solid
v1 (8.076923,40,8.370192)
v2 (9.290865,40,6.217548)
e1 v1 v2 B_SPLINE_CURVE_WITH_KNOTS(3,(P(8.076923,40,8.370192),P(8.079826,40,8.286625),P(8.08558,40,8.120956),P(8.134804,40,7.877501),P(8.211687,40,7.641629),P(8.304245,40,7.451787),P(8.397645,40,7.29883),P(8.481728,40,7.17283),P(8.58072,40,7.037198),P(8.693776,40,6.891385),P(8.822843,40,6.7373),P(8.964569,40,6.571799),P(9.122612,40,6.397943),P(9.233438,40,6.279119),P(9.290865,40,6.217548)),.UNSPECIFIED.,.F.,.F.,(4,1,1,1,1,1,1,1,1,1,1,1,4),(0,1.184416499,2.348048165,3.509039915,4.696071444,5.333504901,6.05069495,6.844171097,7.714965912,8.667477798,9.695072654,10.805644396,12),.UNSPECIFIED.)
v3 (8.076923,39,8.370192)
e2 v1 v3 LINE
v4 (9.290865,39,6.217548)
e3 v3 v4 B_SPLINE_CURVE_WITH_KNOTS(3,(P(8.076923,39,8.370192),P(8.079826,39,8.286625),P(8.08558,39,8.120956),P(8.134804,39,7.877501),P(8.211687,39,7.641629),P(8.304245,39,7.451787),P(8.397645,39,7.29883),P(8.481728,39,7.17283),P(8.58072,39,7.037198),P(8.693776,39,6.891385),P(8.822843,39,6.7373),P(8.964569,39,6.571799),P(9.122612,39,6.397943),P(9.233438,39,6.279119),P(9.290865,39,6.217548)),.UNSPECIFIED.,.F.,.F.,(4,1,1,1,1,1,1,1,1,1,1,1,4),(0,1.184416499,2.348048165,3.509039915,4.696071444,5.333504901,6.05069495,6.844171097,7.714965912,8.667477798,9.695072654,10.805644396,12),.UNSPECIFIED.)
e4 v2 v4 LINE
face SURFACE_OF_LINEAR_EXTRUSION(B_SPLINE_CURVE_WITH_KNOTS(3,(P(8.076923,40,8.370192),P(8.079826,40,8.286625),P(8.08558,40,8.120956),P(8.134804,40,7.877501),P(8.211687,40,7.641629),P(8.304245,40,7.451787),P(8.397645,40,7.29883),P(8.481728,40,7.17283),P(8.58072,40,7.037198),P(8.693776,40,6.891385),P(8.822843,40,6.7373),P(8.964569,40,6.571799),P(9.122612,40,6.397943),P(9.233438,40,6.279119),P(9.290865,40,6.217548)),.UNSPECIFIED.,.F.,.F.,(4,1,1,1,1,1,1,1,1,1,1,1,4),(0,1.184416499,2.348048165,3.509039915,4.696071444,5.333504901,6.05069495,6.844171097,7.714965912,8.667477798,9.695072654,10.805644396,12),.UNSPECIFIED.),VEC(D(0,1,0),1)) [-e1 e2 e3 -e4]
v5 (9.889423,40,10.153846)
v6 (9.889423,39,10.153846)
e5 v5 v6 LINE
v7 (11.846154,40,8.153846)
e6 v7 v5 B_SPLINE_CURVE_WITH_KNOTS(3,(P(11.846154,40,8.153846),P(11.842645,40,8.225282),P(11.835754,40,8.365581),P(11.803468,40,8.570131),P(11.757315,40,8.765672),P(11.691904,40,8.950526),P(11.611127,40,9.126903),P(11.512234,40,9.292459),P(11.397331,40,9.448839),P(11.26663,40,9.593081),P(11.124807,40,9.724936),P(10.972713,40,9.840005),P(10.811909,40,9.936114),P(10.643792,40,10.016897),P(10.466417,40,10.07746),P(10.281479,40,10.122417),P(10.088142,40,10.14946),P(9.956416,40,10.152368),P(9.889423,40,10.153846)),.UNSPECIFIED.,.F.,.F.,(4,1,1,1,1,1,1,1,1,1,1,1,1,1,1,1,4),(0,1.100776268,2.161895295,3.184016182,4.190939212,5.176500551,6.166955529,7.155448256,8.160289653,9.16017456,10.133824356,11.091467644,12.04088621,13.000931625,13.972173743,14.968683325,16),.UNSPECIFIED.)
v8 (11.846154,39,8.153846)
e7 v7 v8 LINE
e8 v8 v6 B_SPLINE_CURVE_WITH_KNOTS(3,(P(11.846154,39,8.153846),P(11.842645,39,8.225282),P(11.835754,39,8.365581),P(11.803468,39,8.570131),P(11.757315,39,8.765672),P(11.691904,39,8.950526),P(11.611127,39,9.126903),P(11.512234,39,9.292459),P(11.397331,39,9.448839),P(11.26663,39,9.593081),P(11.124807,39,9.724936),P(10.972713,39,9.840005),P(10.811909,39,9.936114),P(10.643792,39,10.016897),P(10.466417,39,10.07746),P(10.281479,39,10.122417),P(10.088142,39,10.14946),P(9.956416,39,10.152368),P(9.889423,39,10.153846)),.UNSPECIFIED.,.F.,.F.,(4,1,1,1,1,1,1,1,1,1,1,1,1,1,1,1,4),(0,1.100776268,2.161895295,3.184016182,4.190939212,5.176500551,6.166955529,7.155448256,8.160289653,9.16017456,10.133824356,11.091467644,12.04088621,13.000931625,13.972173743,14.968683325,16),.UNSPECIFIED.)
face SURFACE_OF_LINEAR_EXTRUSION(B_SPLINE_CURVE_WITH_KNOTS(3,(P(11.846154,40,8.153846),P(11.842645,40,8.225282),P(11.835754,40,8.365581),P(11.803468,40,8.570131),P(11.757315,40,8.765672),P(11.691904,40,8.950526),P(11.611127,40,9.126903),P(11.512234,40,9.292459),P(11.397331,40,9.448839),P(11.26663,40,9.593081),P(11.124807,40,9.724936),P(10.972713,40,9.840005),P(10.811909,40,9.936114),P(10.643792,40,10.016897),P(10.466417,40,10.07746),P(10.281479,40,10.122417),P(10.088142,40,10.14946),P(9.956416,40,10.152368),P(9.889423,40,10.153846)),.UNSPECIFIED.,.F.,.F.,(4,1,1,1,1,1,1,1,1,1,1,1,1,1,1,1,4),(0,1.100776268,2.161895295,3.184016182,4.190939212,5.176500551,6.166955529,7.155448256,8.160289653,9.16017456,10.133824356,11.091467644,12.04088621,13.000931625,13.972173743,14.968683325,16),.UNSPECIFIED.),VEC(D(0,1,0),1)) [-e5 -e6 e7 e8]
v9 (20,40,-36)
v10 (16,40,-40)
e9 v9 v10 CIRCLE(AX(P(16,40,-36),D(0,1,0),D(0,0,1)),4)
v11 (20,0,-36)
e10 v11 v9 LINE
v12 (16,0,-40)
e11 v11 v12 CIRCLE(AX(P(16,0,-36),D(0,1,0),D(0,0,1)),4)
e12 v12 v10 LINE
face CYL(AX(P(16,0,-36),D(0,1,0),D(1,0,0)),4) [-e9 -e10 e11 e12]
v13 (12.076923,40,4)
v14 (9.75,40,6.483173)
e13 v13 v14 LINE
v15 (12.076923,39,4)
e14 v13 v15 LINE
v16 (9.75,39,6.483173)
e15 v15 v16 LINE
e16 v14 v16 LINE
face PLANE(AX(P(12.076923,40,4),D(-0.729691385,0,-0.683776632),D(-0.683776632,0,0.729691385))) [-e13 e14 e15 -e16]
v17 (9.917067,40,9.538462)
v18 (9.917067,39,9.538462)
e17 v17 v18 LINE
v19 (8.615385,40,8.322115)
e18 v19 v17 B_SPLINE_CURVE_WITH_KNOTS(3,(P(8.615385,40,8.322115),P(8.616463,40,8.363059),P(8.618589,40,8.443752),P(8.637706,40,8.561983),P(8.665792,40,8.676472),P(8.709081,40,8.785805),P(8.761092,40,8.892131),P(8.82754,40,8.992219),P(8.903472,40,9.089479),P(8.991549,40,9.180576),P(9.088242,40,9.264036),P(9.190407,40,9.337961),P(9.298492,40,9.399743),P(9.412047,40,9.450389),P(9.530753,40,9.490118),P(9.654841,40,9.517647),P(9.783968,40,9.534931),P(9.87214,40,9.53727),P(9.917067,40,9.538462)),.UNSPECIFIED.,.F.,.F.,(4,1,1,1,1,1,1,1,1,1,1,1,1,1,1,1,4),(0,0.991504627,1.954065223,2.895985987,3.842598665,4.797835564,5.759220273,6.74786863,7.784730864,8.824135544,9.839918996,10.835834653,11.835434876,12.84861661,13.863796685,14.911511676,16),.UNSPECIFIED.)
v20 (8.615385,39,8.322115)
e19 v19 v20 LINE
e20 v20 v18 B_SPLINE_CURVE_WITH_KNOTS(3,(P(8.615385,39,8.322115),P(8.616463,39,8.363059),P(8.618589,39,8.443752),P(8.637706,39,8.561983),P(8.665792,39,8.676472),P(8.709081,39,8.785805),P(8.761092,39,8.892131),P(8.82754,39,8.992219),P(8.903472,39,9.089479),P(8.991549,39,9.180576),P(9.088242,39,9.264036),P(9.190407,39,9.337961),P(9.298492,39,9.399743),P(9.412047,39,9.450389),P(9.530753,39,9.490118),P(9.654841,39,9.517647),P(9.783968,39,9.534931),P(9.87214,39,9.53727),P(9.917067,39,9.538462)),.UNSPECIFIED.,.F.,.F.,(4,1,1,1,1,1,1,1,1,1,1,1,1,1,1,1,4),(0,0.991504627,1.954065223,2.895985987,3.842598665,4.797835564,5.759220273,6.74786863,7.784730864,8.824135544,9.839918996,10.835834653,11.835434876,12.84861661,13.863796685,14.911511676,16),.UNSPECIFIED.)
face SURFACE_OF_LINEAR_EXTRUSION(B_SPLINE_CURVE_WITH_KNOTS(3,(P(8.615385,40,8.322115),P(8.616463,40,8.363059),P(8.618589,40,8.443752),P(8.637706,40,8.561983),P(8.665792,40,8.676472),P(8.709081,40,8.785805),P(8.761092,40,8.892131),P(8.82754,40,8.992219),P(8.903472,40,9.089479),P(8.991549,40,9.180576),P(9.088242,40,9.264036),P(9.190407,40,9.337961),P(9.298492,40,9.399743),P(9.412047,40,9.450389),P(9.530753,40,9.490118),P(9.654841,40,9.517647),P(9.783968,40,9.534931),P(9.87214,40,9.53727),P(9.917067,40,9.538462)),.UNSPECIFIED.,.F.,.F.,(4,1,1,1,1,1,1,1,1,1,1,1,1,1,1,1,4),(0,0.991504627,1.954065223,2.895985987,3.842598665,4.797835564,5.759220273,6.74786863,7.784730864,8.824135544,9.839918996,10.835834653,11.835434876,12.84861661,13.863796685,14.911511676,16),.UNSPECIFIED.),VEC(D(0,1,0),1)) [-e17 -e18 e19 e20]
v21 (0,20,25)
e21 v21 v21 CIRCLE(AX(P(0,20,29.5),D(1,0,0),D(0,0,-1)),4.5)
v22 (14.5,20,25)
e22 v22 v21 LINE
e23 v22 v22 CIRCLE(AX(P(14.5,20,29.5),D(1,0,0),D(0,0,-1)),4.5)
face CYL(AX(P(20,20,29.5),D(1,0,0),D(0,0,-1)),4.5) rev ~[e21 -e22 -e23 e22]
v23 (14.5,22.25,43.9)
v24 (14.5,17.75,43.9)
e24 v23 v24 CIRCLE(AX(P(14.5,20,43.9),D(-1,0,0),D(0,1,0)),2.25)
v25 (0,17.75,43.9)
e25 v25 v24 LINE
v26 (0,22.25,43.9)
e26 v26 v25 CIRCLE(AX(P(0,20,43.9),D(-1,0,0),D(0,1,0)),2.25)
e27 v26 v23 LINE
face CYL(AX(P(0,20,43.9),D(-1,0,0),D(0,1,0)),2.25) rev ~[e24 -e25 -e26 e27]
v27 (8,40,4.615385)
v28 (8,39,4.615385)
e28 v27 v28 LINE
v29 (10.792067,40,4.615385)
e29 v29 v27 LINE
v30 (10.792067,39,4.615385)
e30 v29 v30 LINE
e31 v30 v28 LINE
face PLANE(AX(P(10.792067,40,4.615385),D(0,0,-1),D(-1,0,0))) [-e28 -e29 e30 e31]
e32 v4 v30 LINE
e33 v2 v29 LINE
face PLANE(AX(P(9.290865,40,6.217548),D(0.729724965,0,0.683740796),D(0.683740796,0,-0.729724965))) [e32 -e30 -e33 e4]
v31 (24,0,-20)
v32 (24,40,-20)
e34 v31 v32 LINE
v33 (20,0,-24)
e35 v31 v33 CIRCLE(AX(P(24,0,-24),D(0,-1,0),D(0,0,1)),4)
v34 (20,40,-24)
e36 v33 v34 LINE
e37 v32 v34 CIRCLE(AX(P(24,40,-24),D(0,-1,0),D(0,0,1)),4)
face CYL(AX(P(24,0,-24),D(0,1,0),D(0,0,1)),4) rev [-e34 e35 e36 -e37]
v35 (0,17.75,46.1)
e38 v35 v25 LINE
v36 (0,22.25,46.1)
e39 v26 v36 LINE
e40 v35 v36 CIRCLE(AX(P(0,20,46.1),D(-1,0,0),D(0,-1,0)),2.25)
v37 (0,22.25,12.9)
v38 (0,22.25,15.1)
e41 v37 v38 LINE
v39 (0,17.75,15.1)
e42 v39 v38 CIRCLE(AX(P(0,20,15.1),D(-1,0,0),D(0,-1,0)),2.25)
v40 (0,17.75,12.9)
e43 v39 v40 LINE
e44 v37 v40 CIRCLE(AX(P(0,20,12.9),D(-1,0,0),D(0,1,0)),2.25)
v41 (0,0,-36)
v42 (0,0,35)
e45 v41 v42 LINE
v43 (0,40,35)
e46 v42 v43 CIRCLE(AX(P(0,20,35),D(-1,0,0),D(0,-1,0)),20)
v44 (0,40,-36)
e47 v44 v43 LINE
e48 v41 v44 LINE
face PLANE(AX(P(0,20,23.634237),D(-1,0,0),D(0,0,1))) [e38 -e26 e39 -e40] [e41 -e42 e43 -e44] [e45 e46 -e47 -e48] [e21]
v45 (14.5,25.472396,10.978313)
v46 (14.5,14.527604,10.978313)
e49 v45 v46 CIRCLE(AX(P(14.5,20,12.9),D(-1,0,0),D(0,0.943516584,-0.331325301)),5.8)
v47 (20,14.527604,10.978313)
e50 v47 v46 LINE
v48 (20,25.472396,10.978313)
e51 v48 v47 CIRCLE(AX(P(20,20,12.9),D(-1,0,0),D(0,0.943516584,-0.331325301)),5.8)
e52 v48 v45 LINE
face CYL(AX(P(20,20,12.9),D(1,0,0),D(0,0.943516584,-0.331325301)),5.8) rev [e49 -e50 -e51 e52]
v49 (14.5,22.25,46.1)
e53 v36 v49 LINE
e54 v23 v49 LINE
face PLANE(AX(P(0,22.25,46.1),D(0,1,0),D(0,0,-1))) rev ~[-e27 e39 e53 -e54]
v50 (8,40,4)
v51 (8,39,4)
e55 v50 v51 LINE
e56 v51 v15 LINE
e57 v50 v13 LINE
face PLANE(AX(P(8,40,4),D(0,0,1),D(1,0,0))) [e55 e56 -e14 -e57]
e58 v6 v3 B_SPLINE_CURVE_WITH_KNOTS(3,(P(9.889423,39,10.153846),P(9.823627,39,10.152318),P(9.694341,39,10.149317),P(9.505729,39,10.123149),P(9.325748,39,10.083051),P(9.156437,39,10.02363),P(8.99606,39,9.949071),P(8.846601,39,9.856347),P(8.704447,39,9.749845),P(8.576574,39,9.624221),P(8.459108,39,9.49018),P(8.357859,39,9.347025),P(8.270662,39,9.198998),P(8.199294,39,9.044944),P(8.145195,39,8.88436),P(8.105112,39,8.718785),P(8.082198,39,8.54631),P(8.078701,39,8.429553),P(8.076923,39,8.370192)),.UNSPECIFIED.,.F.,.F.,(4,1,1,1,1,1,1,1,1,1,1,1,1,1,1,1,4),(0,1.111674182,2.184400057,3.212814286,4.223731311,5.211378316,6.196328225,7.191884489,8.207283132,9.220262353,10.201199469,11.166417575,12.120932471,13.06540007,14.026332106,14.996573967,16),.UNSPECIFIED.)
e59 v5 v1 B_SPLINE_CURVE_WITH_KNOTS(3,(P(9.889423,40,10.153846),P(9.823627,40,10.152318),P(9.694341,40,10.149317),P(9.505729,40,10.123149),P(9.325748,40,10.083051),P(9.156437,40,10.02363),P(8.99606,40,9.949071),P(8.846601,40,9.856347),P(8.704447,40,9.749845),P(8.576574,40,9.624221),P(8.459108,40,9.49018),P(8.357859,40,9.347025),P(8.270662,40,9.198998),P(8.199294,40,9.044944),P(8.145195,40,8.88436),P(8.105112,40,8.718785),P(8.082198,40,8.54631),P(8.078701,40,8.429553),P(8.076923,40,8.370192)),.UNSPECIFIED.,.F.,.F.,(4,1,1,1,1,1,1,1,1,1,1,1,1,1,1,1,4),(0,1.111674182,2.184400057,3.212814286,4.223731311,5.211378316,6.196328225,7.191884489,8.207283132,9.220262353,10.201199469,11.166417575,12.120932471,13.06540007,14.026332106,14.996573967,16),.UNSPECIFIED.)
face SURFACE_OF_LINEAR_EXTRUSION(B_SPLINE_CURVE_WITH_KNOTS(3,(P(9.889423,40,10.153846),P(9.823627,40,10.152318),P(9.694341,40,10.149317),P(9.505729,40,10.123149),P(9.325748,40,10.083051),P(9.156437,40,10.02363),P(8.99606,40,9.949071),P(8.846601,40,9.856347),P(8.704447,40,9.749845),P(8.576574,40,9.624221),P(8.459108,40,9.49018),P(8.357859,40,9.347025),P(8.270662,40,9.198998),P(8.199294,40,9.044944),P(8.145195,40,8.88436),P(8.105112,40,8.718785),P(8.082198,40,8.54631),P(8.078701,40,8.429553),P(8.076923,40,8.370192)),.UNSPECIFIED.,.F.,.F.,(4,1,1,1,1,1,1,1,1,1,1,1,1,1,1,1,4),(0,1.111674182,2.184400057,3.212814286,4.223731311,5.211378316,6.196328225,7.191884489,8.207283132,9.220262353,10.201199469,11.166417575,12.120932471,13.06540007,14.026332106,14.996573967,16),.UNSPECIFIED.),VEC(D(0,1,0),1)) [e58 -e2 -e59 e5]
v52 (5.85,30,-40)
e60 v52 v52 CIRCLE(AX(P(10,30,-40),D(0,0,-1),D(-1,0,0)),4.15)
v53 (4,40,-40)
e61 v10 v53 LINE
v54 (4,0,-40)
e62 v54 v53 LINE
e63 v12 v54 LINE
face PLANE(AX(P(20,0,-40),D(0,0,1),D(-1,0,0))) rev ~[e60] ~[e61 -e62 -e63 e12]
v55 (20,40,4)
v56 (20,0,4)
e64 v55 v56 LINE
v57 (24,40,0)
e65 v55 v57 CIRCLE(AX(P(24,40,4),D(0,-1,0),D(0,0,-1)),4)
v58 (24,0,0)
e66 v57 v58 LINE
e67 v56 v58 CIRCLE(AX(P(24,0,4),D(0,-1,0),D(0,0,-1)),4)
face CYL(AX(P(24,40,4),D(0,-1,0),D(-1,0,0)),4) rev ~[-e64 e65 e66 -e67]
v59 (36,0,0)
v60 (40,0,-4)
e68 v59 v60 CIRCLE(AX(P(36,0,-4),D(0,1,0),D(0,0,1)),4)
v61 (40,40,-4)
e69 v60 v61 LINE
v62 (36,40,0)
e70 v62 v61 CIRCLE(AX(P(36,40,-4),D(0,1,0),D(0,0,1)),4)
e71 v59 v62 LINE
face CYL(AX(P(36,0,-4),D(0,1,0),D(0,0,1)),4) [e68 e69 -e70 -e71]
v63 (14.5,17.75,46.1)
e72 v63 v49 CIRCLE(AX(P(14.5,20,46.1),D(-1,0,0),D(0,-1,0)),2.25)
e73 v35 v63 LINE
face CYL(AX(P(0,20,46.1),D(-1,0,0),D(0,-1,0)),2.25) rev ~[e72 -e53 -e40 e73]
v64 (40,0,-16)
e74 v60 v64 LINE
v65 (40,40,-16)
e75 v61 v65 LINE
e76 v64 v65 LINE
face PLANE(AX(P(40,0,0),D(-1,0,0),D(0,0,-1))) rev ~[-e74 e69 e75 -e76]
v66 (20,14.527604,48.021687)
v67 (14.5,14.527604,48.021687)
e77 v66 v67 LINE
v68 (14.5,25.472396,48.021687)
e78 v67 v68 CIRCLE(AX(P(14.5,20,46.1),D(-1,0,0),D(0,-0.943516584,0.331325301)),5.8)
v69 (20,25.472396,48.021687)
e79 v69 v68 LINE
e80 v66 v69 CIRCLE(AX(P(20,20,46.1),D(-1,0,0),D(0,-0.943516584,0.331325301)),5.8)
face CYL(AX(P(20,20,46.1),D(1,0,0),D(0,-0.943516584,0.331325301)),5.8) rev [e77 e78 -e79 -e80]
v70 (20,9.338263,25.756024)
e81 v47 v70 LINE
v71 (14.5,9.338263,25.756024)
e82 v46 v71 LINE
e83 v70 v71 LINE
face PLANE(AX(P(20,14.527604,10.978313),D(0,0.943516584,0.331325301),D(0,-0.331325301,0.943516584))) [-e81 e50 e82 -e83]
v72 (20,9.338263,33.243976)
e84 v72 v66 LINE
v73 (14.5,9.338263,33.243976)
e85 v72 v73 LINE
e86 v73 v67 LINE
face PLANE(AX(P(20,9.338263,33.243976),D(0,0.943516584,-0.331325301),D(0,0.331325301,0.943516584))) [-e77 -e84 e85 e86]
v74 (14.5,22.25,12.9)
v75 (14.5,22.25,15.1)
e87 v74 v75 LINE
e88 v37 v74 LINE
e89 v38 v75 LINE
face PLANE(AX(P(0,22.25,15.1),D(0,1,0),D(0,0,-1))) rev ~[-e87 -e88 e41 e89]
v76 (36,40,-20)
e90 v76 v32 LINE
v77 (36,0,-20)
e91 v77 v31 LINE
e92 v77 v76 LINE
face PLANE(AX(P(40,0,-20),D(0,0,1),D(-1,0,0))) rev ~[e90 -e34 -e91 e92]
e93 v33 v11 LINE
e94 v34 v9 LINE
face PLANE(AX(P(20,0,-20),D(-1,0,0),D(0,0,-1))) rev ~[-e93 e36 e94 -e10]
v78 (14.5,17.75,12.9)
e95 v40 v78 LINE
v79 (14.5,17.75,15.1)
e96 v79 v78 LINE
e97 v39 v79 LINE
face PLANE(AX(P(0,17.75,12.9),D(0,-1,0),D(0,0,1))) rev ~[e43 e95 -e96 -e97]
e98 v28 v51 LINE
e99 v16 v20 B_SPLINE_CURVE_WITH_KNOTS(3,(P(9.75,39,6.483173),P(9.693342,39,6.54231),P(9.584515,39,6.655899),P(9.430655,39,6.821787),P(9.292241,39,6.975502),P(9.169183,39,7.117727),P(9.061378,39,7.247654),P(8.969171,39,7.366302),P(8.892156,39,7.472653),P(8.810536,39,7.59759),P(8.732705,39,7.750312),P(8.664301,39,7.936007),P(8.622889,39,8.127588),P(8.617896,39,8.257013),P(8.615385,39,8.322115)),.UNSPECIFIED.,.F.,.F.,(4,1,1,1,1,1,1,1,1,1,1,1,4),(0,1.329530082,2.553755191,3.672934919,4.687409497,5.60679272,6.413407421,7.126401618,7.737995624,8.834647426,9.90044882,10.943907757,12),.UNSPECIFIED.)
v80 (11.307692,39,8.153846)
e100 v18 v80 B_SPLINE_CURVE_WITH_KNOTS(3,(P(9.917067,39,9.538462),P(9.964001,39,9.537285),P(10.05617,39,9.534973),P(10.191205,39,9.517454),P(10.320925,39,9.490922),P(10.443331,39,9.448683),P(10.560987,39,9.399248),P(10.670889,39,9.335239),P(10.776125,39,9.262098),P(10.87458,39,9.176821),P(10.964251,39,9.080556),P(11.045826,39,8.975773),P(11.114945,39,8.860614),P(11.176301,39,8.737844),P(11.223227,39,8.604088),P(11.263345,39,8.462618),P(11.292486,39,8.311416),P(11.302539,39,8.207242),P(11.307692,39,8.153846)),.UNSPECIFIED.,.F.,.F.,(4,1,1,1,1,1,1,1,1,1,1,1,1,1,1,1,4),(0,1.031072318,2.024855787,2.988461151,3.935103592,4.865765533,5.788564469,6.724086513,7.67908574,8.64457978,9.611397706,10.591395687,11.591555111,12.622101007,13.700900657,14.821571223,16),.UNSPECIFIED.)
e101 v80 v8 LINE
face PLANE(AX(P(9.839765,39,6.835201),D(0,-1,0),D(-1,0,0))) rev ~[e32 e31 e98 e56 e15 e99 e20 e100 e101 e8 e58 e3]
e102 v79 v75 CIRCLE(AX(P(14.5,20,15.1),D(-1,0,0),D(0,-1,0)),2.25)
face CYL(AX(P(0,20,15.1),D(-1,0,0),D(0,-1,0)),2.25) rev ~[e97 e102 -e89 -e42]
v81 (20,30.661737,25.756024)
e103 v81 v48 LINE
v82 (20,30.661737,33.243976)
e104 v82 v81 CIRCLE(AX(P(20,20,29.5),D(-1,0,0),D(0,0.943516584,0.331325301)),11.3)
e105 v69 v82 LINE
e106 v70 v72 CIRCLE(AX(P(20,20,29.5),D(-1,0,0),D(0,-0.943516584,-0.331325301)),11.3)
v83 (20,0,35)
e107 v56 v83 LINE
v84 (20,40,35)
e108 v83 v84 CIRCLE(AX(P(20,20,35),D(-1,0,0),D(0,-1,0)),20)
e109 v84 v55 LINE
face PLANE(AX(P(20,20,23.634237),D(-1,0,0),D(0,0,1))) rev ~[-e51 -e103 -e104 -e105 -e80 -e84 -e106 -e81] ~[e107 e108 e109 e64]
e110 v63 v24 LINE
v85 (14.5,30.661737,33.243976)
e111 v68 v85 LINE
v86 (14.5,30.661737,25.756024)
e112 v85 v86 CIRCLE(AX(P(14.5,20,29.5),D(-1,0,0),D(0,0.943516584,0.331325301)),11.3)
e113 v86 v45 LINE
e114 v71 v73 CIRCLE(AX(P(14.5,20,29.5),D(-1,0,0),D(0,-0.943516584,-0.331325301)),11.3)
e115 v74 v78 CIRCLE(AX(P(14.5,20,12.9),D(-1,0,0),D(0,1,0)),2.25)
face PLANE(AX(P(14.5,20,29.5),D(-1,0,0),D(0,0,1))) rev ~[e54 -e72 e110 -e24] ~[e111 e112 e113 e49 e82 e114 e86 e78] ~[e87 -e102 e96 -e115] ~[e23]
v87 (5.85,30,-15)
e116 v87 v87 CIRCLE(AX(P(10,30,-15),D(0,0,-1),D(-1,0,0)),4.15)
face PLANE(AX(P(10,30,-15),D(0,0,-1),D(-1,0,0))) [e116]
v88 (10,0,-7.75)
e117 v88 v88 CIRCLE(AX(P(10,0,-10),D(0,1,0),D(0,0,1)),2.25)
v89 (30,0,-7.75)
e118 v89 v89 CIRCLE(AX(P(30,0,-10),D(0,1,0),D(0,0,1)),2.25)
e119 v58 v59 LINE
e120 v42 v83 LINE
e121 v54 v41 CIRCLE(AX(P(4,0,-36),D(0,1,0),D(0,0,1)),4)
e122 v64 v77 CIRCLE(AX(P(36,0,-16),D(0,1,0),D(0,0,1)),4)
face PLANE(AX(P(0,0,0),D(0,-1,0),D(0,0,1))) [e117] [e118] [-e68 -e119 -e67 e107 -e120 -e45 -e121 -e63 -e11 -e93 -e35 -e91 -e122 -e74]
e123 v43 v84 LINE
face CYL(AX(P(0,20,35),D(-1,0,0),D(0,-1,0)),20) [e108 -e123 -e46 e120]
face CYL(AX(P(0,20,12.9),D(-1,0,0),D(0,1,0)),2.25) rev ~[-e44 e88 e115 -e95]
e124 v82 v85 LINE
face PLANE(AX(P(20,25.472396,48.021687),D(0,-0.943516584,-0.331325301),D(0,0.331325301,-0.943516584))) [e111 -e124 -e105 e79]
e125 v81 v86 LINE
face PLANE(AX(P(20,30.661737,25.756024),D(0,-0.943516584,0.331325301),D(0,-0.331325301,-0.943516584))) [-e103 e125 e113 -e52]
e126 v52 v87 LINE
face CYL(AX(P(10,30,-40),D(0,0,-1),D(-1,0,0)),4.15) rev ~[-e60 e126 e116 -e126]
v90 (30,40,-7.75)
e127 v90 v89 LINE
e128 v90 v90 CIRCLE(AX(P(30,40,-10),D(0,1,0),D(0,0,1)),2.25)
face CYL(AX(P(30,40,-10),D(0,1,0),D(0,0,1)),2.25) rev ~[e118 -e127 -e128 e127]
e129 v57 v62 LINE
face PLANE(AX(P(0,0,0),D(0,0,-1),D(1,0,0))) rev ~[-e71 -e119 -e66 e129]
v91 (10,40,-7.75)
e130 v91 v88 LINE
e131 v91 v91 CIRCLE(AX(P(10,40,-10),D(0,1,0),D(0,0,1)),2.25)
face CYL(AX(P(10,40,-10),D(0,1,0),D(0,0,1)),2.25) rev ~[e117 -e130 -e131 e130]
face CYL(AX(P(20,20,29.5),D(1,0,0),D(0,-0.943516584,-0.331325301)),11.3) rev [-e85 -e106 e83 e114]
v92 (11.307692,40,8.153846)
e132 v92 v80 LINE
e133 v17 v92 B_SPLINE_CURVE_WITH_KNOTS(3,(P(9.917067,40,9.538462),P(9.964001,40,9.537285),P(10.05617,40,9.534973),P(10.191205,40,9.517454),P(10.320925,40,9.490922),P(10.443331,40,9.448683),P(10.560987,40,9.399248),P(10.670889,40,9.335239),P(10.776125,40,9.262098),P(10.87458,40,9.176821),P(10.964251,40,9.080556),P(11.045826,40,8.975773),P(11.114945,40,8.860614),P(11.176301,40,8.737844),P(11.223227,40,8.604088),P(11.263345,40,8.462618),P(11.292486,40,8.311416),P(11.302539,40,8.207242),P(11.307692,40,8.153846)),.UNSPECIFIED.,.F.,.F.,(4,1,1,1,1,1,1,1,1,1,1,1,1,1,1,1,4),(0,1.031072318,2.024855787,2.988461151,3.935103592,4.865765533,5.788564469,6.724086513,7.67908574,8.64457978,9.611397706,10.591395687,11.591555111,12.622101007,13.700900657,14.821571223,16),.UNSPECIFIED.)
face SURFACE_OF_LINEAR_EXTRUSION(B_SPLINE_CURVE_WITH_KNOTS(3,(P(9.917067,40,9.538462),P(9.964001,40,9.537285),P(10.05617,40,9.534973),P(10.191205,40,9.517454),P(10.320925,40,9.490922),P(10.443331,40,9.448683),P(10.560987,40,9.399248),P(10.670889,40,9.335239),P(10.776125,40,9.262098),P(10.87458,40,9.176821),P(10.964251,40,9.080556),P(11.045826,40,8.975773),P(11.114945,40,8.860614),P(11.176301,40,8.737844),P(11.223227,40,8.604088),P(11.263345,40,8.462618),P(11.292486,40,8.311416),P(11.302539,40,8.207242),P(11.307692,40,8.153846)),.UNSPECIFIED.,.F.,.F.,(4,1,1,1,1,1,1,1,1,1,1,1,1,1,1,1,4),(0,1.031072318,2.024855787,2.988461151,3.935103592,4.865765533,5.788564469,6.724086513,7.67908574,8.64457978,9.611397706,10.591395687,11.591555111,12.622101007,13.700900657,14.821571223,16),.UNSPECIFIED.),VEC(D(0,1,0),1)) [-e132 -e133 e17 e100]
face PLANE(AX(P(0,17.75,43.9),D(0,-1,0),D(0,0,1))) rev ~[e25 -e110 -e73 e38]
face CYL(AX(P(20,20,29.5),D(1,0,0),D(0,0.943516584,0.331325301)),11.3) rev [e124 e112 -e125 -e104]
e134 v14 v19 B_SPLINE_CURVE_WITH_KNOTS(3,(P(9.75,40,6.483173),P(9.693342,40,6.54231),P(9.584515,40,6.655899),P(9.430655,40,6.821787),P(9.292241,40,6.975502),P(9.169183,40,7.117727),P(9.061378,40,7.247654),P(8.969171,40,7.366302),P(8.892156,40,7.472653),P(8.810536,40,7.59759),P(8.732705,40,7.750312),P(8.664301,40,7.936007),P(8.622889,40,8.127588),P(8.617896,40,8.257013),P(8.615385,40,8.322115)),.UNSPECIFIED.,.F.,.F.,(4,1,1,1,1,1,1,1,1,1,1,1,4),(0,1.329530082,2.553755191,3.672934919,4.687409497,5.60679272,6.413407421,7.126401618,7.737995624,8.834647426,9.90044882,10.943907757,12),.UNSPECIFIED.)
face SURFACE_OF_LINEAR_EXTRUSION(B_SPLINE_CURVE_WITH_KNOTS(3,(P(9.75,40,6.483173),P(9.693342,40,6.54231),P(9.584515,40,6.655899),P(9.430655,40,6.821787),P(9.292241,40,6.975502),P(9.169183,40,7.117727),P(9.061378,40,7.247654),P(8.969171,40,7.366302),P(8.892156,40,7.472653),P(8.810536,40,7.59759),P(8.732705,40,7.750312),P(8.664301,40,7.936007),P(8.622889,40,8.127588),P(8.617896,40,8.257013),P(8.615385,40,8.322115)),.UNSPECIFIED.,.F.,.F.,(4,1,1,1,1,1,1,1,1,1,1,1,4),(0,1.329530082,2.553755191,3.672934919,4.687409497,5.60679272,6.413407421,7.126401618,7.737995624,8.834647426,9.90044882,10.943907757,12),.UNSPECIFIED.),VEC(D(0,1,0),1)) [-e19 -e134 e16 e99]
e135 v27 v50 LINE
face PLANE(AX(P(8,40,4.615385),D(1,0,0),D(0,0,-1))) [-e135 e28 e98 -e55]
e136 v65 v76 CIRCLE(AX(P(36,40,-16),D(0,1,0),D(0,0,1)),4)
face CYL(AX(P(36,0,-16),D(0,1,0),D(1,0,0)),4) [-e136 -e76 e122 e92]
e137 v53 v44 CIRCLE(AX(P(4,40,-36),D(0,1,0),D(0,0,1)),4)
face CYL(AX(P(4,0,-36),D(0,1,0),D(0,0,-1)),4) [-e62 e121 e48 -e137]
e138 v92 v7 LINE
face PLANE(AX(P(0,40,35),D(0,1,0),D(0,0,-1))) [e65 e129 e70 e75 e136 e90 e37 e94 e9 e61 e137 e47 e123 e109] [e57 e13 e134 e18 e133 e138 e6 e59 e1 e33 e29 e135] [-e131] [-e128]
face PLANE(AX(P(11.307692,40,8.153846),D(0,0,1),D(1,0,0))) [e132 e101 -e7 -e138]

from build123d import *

# Parameters (mm, degrees)
SALIENTE_EXTRUIR1_DEPTH = 40
CORTAR_EXTRUIR1_REACH   = 71.282
CROQUIS2_R              = 2.25
SALIENTE_EXTRUIR2_DEPTH = 20
CROQUIS5_R              = 4.15
CORTAR_EXTRUIR2_DEPTH   = 25
REDONDEO2_R             = 4
CORTAR_EXTRUIR3_REACH   = 72.887
CROQUIS10_R             = 4.5
CROQUIS10_R_2           = 2.25
CORTAR_EXTRUIR5_START   = -20
CORTAR_EXTRUIR5_DEPTH   = 20
CORTAR_EXTRUIR6_DEPTH   = 5.5
CORTAR_EXTRUIR7_DEPTH   = 1


with BuildPart() as part:
    # Croquis1 → Saliente-Extruir1 (new body)
    with BuildSketch(Plane(origin=(0, 0, 0), x_dir=(1, 0, 0), z_dir=(0, 1, 0))):
        Polygon((0, 0), (40, 0), (40, 20), (20, 20), (20, 40), (0, 40), align=None)
    extrude(amount=SALIENTE_EXTRUIR1_DEPTH)

    # Croquis2 → Cortar-Extruir1 (cut, up to next)
    with BuildSketch(Plane(origin=(0, 40, 0), x_dir=(1, 0, 0), z_dir=(0, 1, 0)), mode=Mode.PRIVATE) as cortar_extruir1_sk1:
        with Locations(Location((30, 10, 0), (0, 0, 270))):
            Circle(CROQUIS2_R)
    cortar_extruir1_tool1 = extrude(cortar_extruir1_sk1.sketch, amount=-CORTAR_EXTRUIR1_REACH, mode=Mode.PRIVATE) & part.part
    # Croquis2 → Cortar-Extruir1 (cut, up to next)
    with BuildSketch(Plane(origin=(0, 40, 0), x_dir=(1, 0, 0), z_dir=(0, 1, 0)), mode=Mode.PRIVATE) as cortar_extruir1_sk2:
        with Locations(Location((10, 10, 0), (0, 0, 270))):
            Circle(CROQUIS2_R)
    cortar_extruir1_tool2 = extrude(cortar_extruir1_sk2.sketch, amount=-CORTAR_EXTRUIR1_REACH, mode=Mode.PRIVATE) & part.part
    add(cortar_extruir1_tool1.solids().sort_by_distance((30, 40, -10))[0], mode=Mode.SUBTRACT)
    add(cortar_extruir1_tool2.solids().sort_by_distance((10, 40, -10))[0], mode=Mode.SUBTRACT)

    # Croquis3 → Saliente-Extruir2 (add)
    with BuildSketch(Plane.ZY):
        with BuildLine():
            Line((35, 40), (0, 40))
            Line((0, 40), (0, 0))
            Line((0, 0), (35, 0))
            ThreePointArc((35, 0), (55, 20), (35, 40))
        make_face()
    extrude(amount=-SALIENTE_EXTRUIR2_DEPTH)

    # Croquis5 → Cortar-Extruir2 (cut)
    with BuildSketch(Plane(origin=(0, 0, -40), x_dir=(-1, 0, 0), z_dir=(0, 0, -1))):
        with Locations((-10, 30)):
            Circle(CROQUIS5_R)
    extrude(amount=-CORTAR_EXTRUIR2_DEPTH, mode=Mode.SUBTRACT)

    # Redondeo2
    redondeo2_edges = [part.edges().sort_by_distance(p)[0] for p in [
        (0, 20, -40),
        (20, 20, -40),
        (20, 20, -20),
        (40, 20, -20),
        (40, 20, 0),
        (20, 20, 0),
    ]]
    fillet(redondeo2_edges, radius=REDONDEO2_R)

    # Croquis10 → Cortar-Extruir3 (cut, up to next)
    with BuildSketch(Plane(origin=(20, 0, 0), x_dir=(0, 0, -1), z_dir=(1, 0, 0)), mode=Mode.PRIVATE) as cortar_extruir3_sk1:
        with Locations((-29.5, 20)):
            Circle(CROQUIS10_R)
    cortar_extruir3_tool1 = extrude(cortar_extruir3_sk1.sketch, amount=-CORTAR_EXTRUIR3_REACH, mode=Mode.PRIVATE) & part.part
    # Croquis10 → Cortar-Extruir3 (cut, up to next)
    with BuildSketch(Plane(origin=(20, 0, 0), x_dir=(0, 0, -1), z_dir=(1, 0, 0)), mode=Mode.PRIVATE) as cortar_extruir3_sk2:
        with Locations((-14, 20)):
            Circle(CROQUIS10_R_2)
    cortar_extruir3_tool2 = extrude(cortar_extruir3_sk2.sketch, amount=-CORTAR_EXTRUIR3_REACH, mode=Mode.PRIVATE) & part.part
    # Croquis10 → Cortar-Extruir3 (cut, up to next)
    with BuildSketch(Plane(origin=(20, 0, 0), x_dir=(0, 0, -1), z_dir=(1, 0, 0)), mode=Mode.PRIVATE) as cortar_extruir3_sk3:
        with Locations((-45, 20)):
            Circle(CROQUIS10_R_2)
    cortar_extruir3_tool3 = extrude(cortar_extruir3_sk3.sketch, amount=-CORTAR_EXTRUIR3_REACH, mode=Mode.PRIVATE) & part.part
    add(cortar_extruir3_tool1.solids().sort_by_distance((20, 20, 29.5))[0], mode=Mode.SUBTRACT)
    add(cortar_extruir3_tool2.solids().sort_by_distance((20, 20, 14))[0], mode=Mode.SUBTRACT)
    add(cortar_extruir3_tool3.solids().sort_by_distance((20, 20, 45))[0], mode=Mode.SUBTRACT)

    # Croquis12 → Cortar-Extruir5 (cut)
    with BuildSketch(Plane(origin=(20, 0, 0), x_dir=(0, 0, -1), z_dir=(1, 0, 0)).offset(CORTAR_EXTRUIR5_START)):
        with BuildLine():
            Line((-15.1, 22.25), (-12.9, 22.25))
            ThreePointArc((-12.9, 22.25), (-10.65, 20), (-12.9, 17.75))
            Line((-12.9, 17.75), (-15.1, 17.75))
            ThreePointArc((-15.1, 17.75), (-17.35, 20), (-15.1, 22.25))
        make_face()
        with BuildLine():
            Line((-43.9, 17.75), (-46.1, 17.75))
            ThreePointArc((-46.1, 17.75), (-48.35, 20), (-46.1, 22.25))
            Line((-46.1, 22.25), (-43.9, 22.25))
            ThreePointArc((-43.9, 22.25), (-41.65, 20), (-43.9, 17.75))
        make_face()
    extrude(amount=CORTAR_EXTRUIR5_DEPTH, mode=Mode.SUBTRACT)

    # Croquis14 → Cortar-Extruir6 (cut)
    with BuildSketch(Plane(origin=(20, 0, 0), x_dir=(0, 0, -1), z_dir=(1, 0, 0))):
        with BuildLine():
            Line((-48.021686747, 25.472396189), (-33.243975904, 30.661737402))
            ThreePointArc((-33.243975904, 30.661737402), (-29.5, 31.3), (-25.756024096, 30.661737402))
            Line((-25.756024096, 30.661737402), (-10.978313253, 25.472396189))
            ThreePointArc((-10.978313253, 25.472396189), (-7.1, 20), (-10.978313253, 14.527603811))
            Line((-10.978313253, 14.527603811), (-25.756024096, 9.338262598))
            ThreePointArc((-25.756024096, 9.338262598), (-29.5, 8.7), (-33.243975904, 9.338262598))
            Line((-33.243975904, 9.338262598), (-48.021686747, 14.527603811))
            ThreePointArc((-48.021686747, 14.527603811), (-51.9, 20), (-48.021686747, 25.472396189))
        make_face()
    extrude(amount=-CORTAR_EXTRUIR6_DEPTH, mode=Mode.SUBTRACT)

    # Croquis15 → Cortar-Extruir7 (cut)
    with BuildSketch(Plane(origin=(0, 40, 0), x_dir=(1, 0, 0), z_dir=(0, 1, 0))):
        with BuildLine():
            Line((11.307692308, -8.153846154), (11.846153846, -8.153846154))
            add(Edge.make_bspline(
                [(11.846153846, -8.153846154), (11.842645038, -8.225282314), (11.835753833, -8.36558103), (11.803468313, -8.570131316), (11.757314544, -8.765671861), (11.691903885, -8.950526266), (11.611127437, -9.126902771), (11.512233689, -9.292459299), (11.397330895, -9.448838982), (11.266629849, -9.593081031), (11.124807169, -9.724936298), (10.972712592, -9.840005009), (10.811909364, -9.936114468), (10.643792222, -10.016896686), (10.466416843, -10.077459923), (10.281478736, -10.12241659), (10.088142, -10.149460313), (9.956416396, -10.152367573), (9.889423077, -10.153846154)],
                knots=[0, 0, 0, 0, 1.100776268, 2.161895295, 3.184016182, 4.190939212, 5.176500551, 6.166955529, 7.155448256, 8.160289653, 9.16017456, 10.133824356, 11.091467644, 12.04088621, 13.000931625, 13.972173743, 14.968683325, 16, 16, 16, 16], degree=3))
            add(Edge.make_bspline(
                [(9.889423077, -10.153846154), (9.823627463, -10.152318442), (9.694341431, -10.149316542), (9.50572919, -10.123149389), (9.325747878, -10.08305056), (9.15643722, -10.023630413), (8.996059613, -9.949071125), (8.846600799, -9.856346883), (8.704446708, -9.749845084), (8.576574014, -9.62422099), (8.459107518, -9.490179765), (8.357858501, -9.347024863), (8.270662051, -9.198998287), (8.19929448, -9.044943733), (8.145194688, -8.884359526), (8.105111926, -8.71878524), (8.082198454, -8.546310036), (8.078701137, -8.429552583), (8.076923077, -8.370192308)],
                knots=[0, 0, 0, 0, 1.111674182, 2.184400057, 3.212814286, 4.223731311, 5.211378316, 6.196328225, 7.191884489, 8.207283132, 9.220262353, 10.201199469, 11.166417575, 12.120932471, 13.06540007, 14.026332106, 14.996573967, 16, 16, 16, 16], degree=3))
            add(Edge.make_bspline(
                [(8.076923077, -8.370192308), (8.079825859, -8.286624627), (8.085580483, -8.120955761), (8.13480446, -7.877501183), (8.211686738, -7.641628758), (8.304245432, -7.451786912), (8.397645126, -7.298829691), (8.481727628, -7.172830092), (8.580719899, -7.037198101), (8.693776191, -6.891384748), (8.822843495, -6.737299583), (8.964568659, -6.571798854), (9.122611785, -6.397942783), (9.233438011, -6.279119385), (9.290865385, -6.217548077)],
                knots=[0, 0, 0, 0, 1.184416499, 2.348048165, 3.509039915, 4.696071444, 5.333504901, 6.05069495, 6.844171097, 7.714965912, 8.667477798, 9.695072654, 10.805644396, 12, 12, 12, 12], degree=3))
            Line((9.290865385, -6.217548077), (10.792067308, -4.615384615))
            Line((10.792067308, -4.615384615), (8, -4.615384615))
            Line((8, -4.615384615), (8, -4))
            Line((8, -4), (12.076923077, -4))
            Line((12.076923077, -4), (9.75, -6.483173077))
            add(Edge.make_bspline(
                [(9.75, -6.483173077), (9.693342469, -6.542309805), (9.584514946, -6.655899358), (9.430654729, -6.82178687), (9.292241226, -6.975502303), (9.169182624, -7.117726807), (9.061377669, -7.2476541), (8.969171289, -7.366302394), (8.892155948, -7.472653483), (8.810535736, -7.597590295), (8.732705448, -7.750311776), (8.664300588, -7.936006624), (8.622889216, -8.127587641), (8.617896164, -8.257013212), (8.615384615, -8.322115385)],
                knots=[0, 0, 0, 0, 1.329530082, 2.553755191, 3.672934919, 4.687409497, 5.60679272, 6.413407421, 7.126401618, 7.737995624, 8.834647426, 9.90044882, 10.943907757, 12, 12, 12, 12], degree=3))
            add(Edge.make_bspline(
                [(8.615384615, -8.322115385), (8.616463264, -8.363059449), (8.618589075, -8.443752337), (8.637705753, -8.561983012), (8.665791949, -8.676472493), (8.709081452, -8.7858052), (8.761092196, -8.892131494), (8.827539757, -8.992218726), (8.903471871, -9.089478629), (8.991549398, -9.180576241), (9.088242157, -9.264035799), (9.190407045, -9.337961219), (9.298492072, -9.399742965), (9.4120468, -9.45038885), (9.530753256, -9.490118105), (9.654841407, -9.51764709), (9.783968288, -9.53493135), (9.872139995, -9.53726993), (9.917067308, -9.538461538)],
                knots=[0, 0, 0, 0, 0.991504627, 1.954065223, 2.895985987, 3.842598665, 4.797835564, 5.759220273, 6.74786863, 7.784730864, 8.824135544, 9.839918996, 10.835834653, 11.835434876, 12.84861661, 13.863796685, 14.911511676, 16, 16, 16, 16], degree=3))
            add(Edge.make_bspline(
                [(9.917067308, -9.538461538), (9.964000721, -9.537284508), (10.056170195, -9.534973014), (10.191204591, -9.5174538), (10.320924626, -9.490921844), (10.443331351, -9.448683187), (10.560986519, -9.399248357), (10.67088869, -9.335238949), (10.776125151, -9.262098301), (10.874580094, -9.17682095), (10.964251271, -9.080555667), (11.045825943, -8.975772607), (11.114944972, -8.860614179), (11.176301237, -8.737843643), (11.223226665, -8.604087986), (11.263344544, -8.462618365), (11.29248559, -8.311416341), (11.302539212, -8.20724191), (11.307692308, -8.153846154)],
                knots=[0, 0, 0, 0, 1.031072318, 2.024855787, 2.988461151, 3.935103592, 4.865765533, 5.788564469, 6.724086513, 7.67908574, 8.64457978, 9.611397706, 10.591395687, 11.591555111, 12.622101007, 13.700900657, 14.821571223, 16, 16, 16, 16], degree=3))
        make_face()
    extrude(amount=-CORTAR_EXTRUIR7_DEPTH, mode=Mode.SUBTRACT)


solid = part.part
